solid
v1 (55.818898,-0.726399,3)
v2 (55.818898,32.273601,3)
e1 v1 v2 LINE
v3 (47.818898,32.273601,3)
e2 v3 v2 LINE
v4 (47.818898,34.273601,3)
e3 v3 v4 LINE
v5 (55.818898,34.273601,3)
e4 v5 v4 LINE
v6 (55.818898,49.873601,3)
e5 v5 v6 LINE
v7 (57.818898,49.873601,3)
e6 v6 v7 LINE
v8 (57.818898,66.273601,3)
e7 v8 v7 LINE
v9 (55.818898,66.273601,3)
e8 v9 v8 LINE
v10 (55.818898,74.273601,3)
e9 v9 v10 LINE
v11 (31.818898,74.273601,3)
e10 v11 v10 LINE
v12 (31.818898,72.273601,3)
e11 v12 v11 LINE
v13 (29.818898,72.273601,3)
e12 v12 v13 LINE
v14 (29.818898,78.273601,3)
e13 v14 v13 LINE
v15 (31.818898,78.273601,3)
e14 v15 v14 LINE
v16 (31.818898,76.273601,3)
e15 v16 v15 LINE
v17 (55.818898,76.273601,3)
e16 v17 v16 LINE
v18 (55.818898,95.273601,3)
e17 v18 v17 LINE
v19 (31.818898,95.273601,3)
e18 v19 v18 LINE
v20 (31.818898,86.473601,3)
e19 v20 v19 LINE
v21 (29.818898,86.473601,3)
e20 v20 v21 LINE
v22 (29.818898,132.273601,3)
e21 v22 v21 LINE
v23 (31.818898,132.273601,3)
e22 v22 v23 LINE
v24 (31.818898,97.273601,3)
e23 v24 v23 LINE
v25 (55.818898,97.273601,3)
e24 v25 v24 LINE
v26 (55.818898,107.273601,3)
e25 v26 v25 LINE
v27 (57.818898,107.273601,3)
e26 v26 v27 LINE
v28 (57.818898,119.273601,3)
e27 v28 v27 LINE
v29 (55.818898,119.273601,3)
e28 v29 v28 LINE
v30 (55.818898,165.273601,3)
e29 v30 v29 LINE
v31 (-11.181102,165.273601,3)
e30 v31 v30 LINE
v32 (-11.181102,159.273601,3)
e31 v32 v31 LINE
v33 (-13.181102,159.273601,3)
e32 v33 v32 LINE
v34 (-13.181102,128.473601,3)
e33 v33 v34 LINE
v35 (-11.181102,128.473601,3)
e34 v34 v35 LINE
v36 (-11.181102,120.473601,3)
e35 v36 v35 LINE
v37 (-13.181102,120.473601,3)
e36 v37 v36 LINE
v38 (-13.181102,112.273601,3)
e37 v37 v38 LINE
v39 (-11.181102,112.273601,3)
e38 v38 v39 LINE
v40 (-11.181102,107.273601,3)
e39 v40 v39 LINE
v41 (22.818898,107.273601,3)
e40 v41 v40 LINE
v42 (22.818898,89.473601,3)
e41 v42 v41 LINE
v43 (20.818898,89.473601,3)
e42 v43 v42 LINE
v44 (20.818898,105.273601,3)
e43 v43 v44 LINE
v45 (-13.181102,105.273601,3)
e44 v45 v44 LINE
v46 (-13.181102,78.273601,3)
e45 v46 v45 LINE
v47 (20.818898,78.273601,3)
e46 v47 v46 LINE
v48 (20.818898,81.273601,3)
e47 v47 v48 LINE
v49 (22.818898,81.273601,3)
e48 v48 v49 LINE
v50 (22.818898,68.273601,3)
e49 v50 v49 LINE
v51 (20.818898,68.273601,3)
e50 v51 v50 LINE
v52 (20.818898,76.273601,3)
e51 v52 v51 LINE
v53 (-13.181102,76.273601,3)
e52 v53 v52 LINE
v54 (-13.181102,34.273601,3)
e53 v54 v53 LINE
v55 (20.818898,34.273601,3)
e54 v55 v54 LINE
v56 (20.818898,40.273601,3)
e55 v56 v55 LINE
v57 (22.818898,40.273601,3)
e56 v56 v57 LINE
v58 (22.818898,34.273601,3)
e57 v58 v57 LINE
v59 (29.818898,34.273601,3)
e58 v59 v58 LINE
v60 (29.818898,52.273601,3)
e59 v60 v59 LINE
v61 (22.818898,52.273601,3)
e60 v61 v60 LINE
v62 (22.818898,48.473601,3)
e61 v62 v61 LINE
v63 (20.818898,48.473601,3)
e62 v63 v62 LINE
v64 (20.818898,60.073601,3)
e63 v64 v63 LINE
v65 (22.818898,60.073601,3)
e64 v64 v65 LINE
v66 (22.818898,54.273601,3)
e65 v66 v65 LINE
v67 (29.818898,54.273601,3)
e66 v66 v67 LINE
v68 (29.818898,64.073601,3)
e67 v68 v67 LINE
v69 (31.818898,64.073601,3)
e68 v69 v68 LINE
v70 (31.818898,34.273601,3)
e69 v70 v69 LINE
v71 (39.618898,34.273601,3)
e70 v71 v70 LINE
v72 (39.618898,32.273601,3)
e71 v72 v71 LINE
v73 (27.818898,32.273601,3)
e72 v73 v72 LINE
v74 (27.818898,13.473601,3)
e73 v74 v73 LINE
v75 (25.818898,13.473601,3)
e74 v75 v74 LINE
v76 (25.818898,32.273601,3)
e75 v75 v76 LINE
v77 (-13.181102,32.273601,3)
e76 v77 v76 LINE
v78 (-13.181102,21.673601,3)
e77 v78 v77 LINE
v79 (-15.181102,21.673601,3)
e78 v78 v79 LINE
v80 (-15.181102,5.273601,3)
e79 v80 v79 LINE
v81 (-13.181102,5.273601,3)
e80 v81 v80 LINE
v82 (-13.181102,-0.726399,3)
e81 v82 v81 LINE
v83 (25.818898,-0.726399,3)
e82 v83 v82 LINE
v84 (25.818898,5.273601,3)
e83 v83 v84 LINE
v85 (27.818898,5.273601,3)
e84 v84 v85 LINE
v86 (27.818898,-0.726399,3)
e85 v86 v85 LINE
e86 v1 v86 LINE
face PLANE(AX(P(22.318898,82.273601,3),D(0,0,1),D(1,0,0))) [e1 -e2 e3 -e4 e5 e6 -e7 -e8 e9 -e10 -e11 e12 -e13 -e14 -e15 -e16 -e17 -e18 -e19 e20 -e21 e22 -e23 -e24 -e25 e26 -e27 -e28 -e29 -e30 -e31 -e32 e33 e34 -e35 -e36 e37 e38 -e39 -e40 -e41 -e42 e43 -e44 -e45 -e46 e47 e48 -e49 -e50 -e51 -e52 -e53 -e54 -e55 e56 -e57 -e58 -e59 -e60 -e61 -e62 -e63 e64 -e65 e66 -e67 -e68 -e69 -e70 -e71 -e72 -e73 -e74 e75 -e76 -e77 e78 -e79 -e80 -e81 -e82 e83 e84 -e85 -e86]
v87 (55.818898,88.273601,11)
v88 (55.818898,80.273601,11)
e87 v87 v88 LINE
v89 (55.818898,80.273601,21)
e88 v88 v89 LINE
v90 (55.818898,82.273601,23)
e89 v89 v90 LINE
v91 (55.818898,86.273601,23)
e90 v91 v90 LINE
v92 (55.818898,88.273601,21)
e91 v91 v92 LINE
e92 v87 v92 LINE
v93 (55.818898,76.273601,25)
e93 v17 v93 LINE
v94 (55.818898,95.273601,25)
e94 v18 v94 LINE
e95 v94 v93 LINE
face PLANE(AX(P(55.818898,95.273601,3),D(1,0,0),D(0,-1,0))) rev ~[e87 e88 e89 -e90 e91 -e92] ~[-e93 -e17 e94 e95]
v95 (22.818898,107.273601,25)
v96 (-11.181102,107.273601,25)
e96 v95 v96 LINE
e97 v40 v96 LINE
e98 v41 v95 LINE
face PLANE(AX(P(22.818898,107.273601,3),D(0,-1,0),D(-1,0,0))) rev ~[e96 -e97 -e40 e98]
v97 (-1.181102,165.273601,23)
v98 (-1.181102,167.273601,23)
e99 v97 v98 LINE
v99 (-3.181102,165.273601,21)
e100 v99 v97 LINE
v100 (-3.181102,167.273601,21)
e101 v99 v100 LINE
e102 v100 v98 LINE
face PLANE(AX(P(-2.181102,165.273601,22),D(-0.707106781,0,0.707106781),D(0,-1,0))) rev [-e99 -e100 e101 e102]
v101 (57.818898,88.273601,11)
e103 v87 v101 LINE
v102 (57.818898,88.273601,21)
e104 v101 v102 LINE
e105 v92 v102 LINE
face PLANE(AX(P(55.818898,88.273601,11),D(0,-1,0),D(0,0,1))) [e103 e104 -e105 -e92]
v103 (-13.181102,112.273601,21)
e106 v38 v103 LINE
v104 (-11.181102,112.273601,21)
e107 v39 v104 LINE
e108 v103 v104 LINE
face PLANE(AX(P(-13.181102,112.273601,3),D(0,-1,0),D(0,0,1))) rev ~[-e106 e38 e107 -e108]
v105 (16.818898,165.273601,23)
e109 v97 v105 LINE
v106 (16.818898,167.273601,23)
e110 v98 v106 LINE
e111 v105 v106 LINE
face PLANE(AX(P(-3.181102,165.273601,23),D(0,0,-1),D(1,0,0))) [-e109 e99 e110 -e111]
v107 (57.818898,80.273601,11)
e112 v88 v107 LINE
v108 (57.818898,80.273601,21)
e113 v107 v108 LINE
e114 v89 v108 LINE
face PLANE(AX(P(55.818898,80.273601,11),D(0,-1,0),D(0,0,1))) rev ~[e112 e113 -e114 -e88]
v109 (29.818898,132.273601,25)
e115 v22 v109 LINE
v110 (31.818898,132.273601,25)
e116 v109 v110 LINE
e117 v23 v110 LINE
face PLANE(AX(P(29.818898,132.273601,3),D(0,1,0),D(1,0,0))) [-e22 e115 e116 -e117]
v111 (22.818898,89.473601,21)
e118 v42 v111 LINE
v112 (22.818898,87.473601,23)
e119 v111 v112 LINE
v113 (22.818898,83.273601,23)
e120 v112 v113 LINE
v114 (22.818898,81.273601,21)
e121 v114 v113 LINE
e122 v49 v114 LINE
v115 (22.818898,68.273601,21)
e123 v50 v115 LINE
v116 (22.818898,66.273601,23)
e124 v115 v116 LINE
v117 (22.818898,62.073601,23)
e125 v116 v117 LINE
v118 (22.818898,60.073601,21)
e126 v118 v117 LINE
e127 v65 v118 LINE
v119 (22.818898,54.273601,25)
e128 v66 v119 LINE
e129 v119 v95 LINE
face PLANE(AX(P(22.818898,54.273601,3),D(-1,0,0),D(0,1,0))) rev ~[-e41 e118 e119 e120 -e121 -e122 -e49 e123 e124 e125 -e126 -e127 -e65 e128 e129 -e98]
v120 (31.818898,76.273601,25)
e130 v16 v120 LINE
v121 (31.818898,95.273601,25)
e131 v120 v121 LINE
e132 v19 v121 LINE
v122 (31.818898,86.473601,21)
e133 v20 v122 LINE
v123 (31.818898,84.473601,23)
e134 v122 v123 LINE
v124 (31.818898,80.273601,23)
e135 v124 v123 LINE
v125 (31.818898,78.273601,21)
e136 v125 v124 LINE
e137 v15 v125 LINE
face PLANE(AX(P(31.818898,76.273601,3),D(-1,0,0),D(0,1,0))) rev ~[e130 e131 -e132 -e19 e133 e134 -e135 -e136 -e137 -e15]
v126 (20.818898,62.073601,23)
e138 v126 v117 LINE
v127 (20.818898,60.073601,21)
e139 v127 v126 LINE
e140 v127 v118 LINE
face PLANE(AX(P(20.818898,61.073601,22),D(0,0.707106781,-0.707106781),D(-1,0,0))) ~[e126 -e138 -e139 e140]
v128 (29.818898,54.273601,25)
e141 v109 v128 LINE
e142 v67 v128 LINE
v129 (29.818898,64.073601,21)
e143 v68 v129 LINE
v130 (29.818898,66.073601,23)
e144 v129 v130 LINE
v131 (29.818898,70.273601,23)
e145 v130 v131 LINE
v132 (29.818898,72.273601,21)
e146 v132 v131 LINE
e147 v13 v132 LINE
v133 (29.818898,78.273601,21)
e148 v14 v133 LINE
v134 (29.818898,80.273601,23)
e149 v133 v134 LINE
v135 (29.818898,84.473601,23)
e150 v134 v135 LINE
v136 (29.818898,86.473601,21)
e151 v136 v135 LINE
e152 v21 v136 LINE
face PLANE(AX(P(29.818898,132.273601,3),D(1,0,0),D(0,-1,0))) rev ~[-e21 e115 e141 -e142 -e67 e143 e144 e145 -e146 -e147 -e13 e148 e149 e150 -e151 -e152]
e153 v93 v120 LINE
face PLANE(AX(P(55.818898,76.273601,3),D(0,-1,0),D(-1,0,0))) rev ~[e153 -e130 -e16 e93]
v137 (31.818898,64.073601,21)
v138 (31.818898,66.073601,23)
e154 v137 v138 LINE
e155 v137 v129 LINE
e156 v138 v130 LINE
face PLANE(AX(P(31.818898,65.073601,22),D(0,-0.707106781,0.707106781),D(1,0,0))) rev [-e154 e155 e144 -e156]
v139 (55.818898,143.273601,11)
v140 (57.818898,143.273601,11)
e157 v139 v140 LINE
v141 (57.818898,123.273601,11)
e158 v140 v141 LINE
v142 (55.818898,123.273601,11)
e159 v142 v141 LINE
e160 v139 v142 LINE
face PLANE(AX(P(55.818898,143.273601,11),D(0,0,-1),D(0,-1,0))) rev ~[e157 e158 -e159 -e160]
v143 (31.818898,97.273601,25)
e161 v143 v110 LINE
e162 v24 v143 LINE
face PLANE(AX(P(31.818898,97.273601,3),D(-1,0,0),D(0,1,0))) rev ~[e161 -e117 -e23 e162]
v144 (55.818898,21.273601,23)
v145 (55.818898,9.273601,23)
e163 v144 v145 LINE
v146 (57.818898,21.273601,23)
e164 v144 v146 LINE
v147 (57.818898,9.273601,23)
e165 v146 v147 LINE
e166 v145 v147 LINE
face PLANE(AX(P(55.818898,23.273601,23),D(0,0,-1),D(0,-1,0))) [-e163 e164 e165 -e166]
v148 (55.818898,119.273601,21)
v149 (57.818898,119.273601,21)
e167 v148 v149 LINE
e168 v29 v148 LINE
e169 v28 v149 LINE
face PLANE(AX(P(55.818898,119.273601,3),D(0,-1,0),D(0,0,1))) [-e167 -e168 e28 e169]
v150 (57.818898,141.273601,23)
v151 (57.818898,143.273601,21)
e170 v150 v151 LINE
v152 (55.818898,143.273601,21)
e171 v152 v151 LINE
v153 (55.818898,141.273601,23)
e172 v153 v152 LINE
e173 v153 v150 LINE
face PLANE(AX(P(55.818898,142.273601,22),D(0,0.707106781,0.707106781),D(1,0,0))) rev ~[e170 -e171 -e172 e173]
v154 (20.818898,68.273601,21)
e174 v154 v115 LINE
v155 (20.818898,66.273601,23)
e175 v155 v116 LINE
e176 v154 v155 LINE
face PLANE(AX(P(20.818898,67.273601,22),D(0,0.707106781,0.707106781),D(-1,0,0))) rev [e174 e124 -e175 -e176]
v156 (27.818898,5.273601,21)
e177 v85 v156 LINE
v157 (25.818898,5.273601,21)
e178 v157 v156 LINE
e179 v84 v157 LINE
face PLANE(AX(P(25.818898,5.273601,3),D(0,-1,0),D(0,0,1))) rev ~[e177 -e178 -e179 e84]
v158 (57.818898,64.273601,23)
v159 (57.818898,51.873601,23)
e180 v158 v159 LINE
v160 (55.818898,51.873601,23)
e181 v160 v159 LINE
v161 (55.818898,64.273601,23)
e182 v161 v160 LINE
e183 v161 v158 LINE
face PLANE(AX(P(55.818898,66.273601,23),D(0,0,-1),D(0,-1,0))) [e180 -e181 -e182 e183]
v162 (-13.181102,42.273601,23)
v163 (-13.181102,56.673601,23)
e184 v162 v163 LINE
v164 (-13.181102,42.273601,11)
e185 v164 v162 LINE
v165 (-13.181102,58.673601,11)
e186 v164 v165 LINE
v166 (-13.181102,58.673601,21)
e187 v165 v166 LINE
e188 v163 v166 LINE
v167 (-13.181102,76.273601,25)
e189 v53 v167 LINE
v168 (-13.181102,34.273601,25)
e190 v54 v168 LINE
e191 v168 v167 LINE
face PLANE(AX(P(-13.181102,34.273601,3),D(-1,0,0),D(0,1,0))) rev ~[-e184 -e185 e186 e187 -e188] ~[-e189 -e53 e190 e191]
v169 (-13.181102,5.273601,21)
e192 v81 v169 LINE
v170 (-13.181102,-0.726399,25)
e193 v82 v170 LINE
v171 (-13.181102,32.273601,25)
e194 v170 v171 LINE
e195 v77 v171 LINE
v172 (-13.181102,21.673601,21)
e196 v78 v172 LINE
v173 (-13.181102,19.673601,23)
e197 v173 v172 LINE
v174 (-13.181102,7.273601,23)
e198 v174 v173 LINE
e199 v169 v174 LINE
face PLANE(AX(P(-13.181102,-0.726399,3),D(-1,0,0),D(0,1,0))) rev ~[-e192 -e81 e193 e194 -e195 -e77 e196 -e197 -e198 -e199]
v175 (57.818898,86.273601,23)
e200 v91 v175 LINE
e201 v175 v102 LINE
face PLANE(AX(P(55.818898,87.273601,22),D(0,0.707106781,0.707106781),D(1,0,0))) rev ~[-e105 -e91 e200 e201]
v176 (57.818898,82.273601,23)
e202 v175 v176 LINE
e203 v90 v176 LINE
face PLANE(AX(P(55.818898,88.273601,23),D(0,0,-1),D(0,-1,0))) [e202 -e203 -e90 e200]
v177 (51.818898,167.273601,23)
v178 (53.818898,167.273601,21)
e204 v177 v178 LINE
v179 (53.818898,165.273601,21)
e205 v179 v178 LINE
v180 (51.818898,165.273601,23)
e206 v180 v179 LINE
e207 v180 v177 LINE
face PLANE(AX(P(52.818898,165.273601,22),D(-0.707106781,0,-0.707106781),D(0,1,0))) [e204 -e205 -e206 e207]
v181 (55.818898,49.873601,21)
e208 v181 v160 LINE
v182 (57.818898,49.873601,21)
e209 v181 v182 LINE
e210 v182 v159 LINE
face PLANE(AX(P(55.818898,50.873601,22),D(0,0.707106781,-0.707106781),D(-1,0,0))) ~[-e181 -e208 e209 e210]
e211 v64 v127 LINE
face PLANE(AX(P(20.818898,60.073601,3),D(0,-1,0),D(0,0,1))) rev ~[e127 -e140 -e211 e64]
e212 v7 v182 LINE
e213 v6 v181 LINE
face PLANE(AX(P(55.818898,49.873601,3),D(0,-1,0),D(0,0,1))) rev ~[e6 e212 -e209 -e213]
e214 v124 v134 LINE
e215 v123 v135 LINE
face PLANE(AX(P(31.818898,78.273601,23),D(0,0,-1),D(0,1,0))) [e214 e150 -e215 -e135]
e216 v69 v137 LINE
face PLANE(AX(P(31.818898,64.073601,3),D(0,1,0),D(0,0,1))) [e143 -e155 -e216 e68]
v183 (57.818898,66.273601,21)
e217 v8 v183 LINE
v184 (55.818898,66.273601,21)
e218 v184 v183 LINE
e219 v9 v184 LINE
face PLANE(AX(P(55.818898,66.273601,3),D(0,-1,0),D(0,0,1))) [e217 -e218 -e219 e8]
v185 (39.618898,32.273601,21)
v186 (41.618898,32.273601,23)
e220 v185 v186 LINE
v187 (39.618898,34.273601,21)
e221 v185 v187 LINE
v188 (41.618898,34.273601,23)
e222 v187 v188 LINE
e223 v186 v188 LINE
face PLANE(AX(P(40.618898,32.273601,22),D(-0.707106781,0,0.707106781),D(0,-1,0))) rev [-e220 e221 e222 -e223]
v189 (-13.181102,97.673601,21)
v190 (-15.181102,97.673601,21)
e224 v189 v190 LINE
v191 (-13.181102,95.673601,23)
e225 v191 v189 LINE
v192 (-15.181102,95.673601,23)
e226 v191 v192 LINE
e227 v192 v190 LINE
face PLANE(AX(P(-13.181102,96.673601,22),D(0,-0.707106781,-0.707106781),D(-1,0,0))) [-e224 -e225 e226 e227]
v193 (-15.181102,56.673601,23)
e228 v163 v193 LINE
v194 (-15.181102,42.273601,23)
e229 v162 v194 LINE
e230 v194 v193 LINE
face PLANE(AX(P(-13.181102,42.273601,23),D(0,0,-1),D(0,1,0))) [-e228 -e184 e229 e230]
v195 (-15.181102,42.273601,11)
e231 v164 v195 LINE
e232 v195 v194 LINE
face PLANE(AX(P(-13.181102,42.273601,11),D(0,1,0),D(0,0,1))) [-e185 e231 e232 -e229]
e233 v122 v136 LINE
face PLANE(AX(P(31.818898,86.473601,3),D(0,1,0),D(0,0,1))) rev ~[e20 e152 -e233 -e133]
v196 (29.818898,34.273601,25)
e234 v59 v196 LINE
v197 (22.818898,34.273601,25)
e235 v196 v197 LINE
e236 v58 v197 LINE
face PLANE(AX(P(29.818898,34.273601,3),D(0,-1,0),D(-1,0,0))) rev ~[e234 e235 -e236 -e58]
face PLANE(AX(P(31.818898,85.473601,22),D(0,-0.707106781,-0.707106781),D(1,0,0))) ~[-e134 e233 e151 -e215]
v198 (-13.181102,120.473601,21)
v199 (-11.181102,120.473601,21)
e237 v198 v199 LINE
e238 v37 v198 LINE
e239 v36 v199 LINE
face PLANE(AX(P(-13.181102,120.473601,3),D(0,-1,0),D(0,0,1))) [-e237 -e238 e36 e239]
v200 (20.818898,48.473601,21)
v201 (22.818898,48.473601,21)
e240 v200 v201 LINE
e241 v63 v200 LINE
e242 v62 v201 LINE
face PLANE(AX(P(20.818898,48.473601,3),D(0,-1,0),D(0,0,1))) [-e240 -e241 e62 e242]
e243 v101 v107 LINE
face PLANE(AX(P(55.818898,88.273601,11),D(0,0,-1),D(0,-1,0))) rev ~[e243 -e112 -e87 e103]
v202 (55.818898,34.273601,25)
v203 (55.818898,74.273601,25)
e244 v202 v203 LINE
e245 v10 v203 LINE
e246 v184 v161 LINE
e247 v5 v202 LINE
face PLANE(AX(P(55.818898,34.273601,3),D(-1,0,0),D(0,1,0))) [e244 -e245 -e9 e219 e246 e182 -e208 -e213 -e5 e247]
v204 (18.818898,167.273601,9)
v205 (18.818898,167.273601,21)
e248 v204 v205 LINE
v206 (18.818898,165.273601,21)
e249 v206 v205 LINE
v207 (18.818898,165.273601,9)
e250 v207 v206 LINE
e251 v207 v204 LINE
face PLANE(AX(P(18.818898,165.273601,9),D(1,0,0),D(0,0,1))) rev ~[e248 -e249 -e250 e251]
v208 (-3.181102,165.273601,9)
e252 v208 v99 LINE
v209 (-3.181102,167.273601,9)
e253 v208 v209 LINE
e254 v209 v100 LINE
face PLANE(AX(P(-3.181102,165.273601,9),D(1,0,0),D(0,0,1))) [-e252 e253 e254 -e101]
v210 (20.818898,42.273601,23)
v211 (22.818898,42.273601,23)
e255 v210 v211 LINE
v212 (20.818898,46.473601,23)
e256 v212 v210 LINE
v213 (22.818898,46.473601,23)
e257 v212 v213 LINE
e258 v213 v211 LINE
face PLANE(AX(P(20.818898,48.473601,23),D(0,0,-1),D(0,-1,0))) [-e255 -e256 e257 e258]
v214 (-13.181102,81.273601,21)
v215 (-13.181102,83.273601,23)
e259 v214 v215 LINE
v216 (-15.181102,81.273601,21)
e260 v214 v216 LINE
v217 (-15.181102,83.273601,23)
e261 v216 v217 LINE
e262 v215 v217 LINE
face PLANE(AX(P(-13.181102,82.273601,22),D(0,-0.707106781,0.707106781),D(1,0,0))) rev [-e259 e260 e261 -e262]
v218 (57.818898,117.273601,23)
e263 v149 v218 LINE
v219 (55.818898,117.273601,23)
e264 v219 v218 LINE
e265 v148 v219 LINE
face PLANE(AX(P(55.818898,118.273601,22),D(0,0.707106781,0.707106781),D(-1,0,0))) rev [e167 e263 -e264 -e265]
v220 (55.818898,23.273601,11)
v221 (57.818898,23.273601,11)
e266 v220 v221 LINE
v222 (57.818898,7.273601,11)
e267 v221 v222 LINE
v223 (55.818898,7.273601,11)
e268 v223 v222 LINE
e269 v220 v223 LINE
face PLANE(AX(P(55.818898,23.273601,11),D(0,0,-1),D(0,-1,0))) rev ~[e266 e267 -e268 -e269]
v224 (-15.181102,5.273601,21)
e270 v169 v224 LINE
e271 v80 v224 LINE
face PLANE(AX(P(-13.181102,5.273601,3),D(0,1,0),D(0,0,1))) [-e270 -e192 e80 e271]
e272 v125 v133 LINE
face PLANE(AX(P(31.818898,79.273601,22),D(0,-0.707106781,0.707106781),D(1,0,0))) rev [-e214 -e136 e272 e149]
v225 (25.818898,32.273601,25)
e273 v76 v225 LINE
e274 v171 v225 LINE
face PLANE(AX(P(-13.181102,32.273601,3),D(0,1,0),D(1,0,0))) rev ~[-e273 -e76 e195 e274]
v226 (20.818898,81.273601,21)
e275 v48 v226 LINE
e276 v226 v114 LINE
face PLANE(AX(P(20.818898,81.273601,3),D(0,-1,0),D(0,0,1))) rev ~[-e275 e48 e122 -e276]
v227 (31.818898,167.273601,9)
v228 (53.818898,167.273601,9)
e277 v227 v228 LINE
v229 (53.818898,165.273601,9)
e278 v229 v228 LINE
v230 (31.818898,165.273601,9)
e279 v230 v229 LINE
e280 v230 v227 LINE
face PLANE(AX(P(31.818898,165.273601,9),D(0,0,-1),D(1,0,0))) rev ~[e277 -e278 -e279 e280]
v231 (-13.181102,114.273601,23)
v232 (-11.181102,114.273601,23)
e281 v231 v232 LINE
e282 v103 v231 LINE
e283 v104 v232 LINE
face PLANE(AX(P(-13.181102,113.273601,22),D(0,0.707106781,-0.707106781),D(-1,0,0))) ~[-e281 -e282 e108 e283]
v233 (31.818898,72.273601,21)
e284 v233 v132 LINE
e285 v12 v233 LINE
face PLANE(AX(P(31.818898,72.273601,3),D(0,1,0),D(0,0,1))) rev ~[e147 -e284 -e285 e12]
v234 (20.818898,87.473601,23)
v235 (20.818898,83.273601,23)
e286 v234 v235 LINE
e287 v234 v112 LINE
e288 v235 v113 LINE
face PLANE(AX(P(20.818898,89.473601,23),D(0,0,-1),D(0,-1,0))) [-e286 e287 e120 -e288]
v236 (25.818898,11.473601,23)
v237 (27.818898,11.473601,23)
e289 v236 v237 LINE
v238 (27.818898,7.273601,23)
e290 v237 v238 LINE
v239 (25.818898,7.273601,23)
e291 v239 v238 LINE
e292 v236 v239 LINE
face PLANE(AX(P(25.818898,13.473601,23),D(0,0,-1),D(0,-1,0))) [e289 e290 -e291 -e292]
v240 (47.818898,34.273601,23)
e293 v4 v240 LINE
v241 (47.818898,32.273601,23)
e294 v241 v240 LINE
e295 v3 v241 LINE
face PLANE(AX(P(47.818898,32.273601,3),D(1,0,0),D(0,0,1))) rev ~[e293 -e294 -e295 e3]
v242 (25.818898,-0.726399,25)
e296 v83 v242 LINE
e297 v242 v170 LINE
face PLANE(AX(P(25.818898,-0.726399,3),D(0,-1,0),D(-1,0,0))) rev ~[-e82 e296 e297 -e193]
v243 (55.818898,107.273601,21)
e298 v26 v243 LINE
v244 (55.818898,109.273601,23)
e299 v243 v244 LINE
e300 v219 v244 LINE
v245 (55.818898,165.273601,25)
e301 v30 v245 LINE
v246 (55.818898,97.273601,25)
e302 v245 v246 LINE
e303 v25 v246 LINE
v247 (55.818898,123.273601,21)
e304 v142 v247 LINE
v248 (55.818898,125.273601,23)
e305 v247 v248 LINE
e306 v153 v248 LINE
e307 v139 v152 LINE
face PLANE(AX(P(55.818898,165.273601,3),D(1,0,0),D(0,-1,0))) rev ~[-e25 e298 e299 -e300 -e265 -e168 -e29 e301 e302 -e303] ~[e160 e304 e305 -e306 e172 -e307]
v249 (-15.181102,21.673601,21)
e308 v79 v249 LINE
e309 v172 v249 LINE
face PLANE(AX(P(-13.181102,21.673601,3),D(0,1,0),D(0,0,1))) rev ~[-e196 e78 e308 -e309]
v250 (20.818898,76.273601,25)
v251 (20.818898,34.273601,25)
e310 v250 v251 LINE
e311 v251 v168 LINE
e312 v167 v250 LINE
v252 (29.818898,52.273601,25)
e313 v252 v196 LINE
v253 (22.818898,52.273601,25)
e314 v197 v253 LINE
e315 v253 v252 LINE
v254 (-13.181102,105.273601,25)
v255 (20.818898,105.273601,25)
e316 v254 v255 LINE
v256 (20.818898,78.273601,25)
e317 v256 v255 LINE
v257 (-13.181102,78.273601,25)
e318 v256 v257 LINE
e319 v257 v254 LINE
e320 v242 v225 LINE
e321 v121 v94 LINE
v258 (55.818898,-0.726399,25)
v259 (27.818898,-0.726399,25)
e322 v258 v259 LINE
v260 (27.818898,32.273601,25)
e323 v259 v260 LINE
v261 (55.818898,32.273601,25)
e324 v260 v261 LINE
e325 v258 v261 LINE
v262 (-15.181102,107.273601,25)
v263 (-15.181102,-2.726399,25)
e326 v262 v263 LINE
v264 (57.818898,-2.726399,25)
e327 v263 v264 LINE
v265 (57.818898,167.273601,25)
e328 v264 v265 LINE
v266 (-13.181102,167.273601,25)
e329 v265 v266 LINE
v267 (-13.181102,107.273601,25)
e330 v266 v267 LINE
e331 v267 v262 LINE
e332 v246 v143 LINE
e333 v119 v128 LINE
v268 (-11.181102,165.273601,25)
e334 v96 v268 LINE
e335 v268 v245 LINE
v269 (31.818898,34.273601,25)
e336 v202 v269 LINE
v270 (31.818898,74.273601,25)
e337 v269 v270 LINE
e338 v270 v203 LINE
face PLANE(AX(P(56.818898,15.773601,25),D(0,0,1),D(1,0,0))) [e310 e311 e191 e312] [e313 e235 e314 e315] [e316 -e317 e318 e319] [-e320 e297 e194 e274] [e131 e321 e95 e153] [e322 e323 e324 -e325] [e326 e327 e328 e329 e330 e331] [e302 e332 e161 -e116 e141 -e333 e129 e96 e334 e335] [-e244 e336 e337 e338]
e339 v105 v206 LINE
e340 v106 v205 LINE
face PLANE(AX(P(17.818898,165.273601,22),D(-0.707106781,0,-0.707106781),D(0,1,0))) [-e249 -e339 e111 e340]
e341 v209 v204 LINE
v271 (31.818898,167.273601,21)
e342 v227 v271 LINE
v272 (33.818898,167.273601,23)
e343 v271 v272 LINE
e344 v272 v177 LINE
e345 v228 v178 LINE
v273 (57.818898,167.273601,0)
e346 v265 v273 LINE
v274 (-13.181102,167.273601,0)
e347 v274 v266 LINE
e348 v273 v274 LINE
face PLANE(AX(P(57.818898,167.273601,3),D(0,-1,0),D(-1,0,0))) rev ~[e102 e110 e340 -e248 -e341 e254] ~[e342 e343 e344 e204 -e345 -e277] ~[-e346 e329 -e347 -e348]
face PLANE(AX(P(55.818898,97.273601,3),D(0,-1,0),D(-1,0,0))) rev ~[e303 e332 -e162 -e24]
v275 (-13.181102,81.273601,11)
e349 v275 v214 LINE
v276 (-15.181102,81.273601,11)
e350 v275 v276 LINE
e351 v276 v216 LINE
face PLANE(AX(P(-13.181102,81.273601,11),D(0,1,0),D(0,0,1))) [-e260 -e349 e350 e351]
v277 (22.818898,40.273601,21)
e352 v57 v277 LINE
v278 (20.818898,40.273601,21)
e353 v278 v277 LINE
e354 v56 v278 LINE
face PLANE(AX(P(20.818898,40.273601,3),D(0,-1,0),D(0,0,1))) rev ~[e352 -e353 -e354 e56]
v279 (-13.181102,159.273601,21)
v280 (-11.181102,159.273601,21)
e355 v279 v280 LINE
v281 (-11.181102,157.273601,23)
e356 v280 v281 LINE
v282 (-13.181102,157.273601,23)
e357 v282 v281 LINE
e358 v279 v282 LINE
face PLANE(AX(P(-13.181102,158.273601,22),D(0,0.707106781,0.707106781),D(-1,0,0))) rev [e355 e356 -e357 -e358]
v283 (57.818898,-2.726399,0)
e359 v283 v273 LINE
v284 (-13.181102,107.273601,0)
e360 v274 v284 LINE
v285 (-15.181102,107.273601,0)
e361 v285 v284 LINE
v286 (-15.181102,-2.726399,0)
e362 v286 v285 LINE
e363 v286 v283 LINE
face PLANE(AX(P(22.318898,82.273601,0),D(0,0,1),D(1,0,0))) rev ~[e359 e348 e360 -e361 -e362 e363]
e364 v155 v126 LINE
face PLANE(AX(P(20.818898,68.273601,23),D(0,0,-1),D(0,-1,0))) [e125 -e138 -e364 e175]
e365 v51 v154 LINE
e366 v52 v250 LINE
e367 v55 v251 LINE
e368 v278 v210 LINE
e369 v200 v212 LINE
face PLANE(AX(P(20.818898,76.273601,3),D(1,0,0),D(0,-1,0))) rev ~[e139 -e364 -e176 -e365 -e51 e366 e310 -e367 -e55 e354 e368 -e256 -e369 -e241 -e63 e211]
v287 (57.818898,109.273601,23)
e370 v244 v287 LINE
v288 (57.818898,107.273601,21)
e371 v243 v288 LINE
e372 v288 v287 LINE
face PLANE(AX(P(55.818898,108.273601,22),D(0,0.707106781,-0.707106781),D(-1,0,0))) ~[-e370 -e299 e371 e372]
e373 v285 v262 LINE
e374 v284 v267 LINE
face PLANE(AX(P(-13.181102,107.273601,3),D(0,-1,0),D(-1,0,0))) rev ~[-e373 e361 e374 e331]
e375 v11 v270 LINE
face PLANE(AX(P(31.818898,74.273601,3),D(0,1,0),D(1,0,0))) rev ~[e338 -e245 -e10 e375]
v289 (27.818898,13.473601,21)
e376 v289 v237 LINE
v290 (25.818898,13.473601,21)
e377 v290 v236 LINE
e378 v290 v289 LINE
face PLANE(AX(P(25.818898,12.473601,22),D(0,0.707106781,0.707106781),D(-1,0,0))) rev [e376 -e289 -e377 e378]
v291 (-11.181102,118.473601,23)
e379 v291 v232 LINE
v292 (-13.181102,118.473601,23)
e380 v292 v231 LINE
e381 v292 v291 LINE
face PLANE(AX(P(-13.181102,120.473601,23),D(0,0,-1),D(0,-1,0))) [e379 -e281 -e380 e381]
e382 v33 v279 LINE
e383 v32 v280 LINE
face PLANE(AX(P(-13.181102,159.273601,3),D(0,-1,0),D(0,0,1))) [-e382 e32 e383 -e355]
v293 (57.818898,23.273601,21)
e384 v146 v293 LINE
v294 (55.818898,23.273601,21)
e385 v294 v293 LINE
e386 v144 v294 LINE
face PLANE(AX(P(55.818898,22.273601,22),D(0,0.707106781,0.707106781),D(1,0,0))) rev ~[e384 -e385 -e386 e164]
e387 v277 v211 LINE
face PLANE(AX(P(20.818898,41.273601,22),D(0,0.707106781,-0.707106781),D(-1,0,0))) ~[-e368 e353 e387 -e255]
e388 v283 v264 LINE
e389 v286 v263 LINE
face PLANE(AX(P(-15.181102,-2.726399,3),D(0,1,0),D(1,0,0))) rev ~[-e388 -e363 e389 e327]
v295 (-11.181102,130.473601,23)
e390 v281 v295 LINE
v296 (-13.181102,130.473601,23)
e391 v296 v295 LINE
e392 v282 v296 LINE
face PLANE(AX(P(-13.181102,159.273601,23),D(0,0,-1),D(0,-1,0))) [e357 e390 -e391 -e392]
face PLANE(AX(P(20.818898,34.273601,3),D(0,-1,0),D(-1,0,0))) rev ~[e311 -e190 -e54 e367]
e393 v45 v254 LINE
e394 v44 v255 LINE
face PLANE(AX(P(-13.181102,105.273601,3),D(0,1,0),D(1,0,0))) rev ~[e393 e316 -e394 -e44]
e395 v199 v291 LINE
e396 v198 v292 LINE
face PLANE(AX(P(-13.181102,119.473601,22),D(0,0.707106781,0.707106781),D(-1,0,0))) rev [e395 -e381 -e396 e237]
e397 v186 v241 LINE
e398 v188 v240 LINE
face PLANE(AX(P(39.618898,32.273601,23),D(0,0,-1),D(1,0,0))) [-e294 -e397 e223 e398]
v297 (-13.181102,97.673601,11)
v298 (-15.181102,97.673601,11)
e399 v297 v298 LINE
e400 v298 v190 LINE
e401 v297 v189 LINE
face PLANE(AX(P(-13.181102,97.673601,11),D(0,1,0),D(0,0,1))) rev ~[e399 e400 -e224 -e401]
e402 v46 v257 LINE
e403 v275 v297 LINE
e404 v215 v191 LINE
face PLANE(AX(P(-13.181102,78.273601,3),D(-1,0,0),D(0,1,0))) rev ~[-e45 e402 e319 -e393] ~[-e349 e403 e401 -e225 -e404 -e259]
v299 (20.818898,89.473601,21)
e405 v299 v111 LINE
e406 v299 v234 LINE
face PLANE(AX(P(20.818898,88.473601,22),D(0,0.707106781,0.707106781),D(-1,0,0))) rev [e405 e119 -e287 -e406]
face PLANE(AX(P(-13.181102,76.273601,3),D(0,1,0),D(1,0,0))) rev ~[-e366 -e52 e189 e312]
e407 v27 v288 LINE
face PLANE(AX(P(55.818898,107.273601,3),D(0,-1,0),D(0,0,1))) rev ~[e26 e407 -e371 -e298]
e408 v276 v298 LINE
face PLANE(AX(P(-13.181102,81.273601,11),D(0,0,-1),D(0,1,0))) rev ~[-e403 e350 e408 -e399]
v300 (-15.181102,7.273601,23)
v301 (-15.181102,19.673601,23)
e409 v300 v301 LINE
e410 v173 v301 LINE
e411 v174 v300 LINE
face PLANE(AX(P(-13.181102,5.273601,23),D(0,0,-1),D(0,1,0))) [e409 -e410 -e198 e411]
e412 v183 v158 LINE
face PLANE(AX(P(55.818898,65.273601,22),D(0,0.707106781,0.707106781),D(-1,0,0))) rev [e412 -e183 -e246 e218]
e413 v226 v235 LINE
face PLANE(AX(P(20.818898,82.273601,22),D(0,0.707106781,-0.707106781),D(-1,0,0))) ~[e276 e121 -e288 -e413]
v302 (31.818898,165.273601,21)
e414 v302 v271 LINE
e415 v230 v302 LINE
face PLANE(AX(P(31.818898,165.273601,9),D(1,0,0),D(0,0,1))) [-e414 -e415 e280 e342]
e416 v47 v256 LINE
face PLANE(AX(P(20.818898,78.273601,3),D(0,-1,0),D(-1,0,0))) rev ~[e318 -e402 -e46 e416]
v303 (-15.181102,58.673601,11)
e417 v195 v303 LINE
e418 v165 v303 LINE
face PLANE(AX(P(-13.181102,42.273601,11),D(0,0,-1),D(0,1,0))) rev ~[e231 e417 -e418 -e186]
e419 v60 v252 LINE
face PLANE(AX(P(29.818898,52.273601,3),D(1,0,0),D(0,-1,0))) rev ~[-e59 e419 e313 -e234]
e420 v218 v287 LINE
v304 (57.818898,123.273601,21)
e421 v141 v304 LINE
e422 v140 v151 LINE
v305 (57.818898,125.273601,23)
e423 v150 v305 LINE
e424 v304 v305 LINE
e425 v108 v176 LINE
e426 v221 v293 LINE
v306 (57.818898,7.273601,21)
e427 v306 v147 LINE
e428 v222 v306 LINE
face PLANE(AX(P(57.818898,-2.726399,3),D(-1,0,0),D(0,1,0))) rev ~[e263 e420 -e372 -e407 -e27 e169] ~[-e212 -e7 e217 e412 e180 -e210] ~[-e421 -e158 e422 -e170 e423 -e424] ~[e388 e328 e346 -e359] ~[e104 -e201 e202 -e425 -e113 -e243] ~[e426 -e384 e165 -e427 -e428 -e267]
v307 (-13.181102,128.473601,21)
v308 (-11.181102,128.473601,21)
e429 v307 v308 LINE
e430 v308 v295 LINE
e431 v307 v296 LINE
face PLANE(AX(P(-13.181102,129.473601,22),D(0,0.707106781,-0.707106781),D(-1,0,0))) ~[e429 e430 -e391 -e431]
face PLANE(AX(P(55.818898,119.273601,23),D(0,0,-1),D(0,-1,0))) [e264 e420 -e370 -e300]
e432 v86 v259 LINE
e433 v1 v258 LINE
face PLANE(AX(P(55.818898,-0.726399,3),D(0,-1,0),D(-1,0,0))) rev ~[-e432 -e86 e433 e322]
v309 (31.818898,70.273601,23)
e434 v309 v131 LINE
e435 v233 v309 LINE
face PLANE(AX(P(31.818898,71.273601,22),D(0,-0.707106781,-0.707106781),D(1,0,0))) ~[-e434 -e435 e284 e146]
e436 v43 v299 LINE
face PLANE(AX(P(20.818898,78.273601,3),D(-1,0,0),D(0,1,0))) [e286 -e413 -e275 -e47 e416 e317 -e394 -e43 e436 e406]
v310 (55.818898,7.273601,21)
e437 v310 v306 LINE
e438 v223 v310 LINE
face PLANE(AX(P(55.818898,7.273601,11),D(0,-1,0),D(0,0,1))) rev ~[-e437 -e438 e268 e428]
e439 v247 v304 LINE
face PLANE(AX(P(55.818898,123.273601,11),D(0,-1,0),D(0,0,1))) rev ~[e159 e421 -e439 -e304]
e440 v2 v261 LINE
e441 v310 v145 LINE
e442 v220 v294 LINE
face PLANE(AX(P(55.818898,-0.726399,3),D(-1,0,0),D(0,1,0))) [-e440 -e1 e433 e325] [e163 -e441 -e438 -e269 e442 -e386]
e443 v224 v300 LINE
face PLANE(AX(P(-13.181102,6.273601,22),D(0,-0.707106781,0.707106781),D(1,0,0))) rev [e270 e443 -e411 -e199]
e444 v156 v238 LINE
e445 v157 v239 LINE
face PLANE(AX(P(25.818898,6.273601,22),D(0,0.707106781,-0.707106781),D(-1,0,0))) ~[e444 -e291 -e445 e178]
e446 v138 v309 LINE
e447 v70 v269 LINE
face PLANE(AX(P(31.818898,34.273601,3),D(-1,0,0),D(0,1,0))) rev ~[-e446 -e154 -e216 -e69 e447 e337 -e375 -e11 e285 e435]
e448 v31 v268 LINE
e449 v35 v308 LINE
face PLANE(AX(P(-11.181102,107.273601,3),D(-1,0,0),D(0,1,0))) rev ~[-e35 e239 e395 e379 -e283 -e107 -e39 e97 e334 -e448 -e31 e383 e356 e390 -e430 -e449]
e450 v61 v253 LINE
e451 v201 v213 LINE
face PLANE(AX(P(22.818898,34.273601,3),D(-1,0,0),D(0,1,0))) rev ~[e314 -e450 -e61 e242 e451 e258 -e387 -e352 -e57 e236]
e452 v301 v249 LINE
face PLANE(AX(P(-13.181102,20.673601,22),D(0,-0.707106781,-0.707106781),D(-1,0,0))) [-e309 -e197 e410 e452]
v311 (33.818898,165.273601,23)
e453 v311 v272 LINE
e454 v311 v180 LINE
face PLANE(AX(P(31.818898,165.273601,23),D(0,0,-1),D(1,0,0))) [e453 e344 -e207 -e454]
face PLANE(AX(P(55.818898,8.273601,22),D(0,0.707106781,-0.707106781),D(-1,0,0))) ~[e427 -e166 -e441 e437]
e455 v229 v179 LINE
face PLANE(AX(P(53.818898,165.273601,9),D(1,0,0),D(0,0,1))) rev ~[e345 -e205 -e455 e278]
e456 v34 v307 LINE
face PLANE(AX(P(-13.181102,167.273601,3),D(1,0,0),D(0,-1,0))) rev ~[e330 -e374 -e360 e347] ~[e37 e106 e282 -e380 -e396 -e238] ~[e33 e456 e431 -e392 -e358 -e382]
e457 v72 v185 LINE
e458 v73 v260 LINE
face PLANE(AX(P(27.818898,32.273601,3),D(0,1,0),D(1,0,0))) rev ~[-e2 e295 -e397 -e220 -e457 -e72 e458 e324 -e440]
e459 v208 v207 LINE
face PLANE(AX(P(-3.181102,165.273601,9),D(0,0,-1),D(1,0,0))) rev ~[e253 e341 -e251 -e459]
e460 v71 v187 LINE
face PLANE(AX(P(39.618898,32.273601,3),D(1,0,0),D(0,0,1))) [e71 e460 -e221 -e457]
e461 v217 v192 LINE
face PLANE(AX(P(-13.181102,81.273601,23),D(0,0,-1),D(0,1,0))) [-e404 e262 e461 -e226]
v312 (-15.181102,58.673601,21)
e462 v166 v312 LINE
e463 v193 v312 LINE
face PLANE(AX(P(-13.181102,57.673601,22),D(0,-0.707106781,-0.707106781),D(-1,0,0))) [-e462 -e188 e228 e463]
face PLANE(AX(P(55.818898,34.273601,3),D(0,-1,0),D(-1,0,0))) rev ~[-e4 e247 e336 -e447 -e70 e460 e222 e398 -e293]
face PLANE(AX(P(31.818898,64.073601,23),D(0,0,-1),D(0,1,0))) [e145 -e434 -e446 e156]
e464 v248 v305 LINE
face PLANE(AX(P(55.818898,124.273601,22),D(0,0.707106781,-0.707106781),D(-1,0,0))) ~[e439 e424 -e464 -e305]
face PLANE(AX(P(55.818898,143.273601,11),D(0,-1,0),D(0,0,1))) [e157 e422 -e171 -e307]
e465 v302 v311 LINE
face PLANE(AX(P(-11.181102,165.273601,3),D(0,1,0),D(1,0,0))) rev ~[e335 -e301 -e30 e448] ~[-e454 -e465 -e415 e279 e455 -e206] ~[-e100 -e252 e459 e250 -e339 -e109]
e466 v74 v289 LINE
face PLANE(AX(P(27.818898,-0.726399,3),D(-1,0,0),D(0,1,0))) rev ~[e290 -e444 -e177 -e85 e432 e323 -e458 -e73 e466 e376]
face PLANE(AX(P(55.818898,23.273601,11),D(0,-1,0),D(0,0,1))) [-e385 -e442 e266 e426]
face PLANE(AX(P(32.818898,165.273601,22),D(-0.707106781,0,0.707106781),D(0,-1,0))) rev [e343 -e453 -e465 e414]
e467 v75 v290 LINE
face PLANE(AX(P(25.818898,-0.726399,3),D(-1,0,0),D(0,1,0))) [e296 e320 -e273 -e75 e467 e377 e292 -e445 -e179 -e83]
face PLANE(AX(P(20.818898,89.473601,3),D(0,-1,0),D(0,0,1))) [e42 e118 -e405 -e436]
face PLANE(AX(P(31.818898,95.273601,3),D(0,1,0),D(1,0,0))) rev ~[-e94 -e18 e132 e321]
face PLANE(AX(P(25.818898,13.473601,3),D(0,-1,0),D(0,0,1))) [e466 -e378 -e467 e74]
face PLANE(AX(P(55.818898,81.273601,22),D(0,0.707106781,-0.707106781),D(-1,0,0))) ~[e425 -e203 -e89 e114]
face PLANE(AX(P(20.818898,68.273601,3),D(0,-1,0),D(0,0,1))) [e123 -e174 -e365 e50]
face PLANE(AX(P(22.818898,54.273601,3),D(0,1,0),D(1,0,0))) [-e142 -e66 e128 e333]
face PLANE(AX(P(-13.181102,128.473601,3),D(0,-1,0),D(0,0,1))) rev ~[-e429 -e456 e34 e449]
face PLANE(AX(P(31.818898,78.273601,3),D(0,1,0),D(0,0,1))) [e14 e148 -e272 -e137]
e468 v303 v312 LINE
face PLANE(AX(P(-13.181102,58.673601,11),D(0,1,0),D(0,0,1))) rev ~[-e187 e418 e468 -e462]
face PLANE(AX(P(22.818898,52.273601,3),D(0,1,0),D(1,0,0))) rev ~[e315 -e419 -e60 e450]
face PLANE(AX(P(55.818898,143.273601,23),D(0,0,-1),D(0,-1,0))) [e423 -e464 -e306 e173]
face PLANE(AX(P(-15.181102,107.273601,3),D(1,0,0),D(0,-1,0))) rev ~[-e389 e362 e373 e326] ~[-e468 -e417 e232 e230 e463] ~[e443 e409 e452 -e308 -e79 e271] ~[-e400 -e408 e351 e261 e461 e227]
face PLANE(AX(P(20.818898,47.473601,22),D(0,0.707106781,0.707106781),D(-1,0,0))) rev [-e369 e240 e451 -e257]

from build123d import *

# Parameters (mm, degrees)
F3_W      = 2
F3_H      = 110
F4_DEPTH  = 3
F5_W      = 2
F5_H      = 33
F5_H_2    = 40
F5_H_3    = 27
F5_H_4    = 19
F5_H_5    = 35
F5_W_2    = 7
F5_H_6    = 2
F6_DEPTH  = 22
F7_W      = 8.2
F7_H      = 20
F7_W_2    = 30.8
F8_DEPTH  = 2
F9_W      = 12
F9_H      = 20
F9_W_2    = 20
F9_H_2    = 12
F9_W_3    = 8
F9_W_4    = 16.4
F9_W_5    = 16
F10_DEPTH = 2
F11_W     = 22
F11_H     = 14
F12_DEPTH = 2
F13_W     = 8.2
F13_H     = 20
F14_DEPTH = 2
F15_W     = 8.2
F15_H     = 20
F16_DEPTH = 2
F17_W     = 8.2
F17_H     = 20
F18_DEPTH = 2
F19_W     = 8.2
F19_H     = 20
F20_DEPTH = 2
F21_W     = 16.4
F21_H     = 20
F21_H_2   = 12
F22_DEPTH = 2
F23_SIZE  = 2


with BuildPart() as f4:
    # F3 (on Top) → F4 (new body)
    with BuildSketch(Plane.XY):
        Polygon((57.8188975325, 167.2736013268), (-13.1811024675, 167.2736013268), (-13.1811024675, 107.2736013268), (-13.1811024675, -2.7263986732), (57.8188975325, -2.7263986732), align=None)
        with Locations((-14.1811024675, 52.2736013268)):
            Rectangle(F3_W, F3_H)
    extrude(amount=F4_DEPTH)

    # F5 (on face) → F6 (join)
    with BuildSketch(Plane.XY.offset(3)):
        with Locations((56.8188975325, 15.7736013268)):
            Rectangle(F5_W, F5_H)
        with Locations((56.8188975325, 54.2736013268)):
            Rectangle(F5_W, F5_H_2)
        Polygon((-13.1811024675, 167.2736013268), (-13.1811024675, 107.2736013268), (-11.1811024675, 107.2736013268), (-11.1811024675, 165.2736013268), (-11.1811024675, 167.2736013268), align=None)
        Polygon((-11.1811024675, 167.2736013268), (-11.1811024675, 165.2736013268), (55.8188975325, 165.2736013268), (57.8188975325, 165.2736013268), (57.8188975325, 167.2736013268), align=None)
        Polygon((-15.1811024675, -0.7263986732), (-15.1811024675, -2.7263986732), (57.8188975325, -2.7263986732), (57.8188975325, -0.7263986732), (55.8188975325, -0.7263986732), (27.8188975325, -0.7263986732), (25.8188975325, -0.7263986732), (-13.1811024675, -0.7263986732), align=None)
        Polygon((-11.1811024675, 107.2736013268), (-13.1811024675, 107.2736013268), (-13.1811024675, 105.2736013268), (20.8188975325, 105.2736013268), (22.8188975325, 105.2736013268), (22.8188975325, 107.2736013268), align=None)
        Polygon((55.8188975325, 76.2736013268), (57.8188975325, 76.2736013268), (57.8188975325, 165.2736013268), (55.8188975325, 165.2736013268), (55.8188975325, 97.2736013268), (55.8188975325, 95.2736013268), align=None)
        Polygon((-15.1811024675, 107.2736013268), (-15.1811024675, -0.7263986732), (-13.1811024675, -0.7263986732), (-13.1811024675, 32.2736013268), (-13.1811024675, 34.2736013268), (-13.1811024675, 76.2736013268), (-13.1811024675, 78.2736013268), (-13.1811024675, 105.2736013268), (-13.1811024675, 107.2736013268), align=None)
        Polygon((55.8188975325, 74.2736013268), (57.8188975325, 74.2736013268), (57.8188975325, 76.2736013268), (55.8188975325, 76.2736013268), (31.8188975325, 76.2736013268), (29.8188975325, 76.2736013268), (29.8188975325, 74.2736013268), (31.8188975325, 74.2736013268), align=None)
        Polygon((55.8188975325, 32.2736013268), (57.8188975325, 32.2736013268), (57.8188975325, 34.2736013268), (55.8188975325, 34.2736013268), (31.8188975325, 34.2736013268), (29.8188975325, 34.2736013268), (22.8188975325, 34.2736013268), (20.8188975325, 34.2736013268), (-13.1811024675, 34.2736013268), (-13.1811024675, 32.2736013268), (25.8188975325, 32.2736013268), (27.8188975325, 32.2736013268), align=None)
        with Locations((21.8188975325, 91.7736013268)):
            Rectangle(F5_W, F5_H_3)
        Polygon((20.8188975325, 76.2736013268), (20.8188975325, 34.2736013268), (22.8188975325, 34.2736013268), (22.8188975325, 52.2736013268), (22.8188975325, 54.2736013268), (22.8188975325, 76.2736013268), align=None)
        Polygon((-13.1811024675, 78.2736013268), (-13.1811024675, 76.2736013268), (20.8188975325, 76.2736013268), (22.8188975325, 76.2736013268), (22.8188975325, 78.2736013268), (20.8188975325, 78.2736013268), align=None)
        with Locations((30.8188975325, 85.7736013268)):
            Rectangle(F5_W, F5_H_4)
        Polygon((55.8188975325, 95.2736013268), (55.8188975325, 97.2736013268), (31.8188975325, 97.2736013268), (29.8188975325, 97.2736013268), (29.8188975325, 95.2736013268), (31.8188975325, 95.2736013268), align=None)
        with Locations((30.8188975325, 114.7736013268)):
            Rectangle(F5_W, F5_H_5)
        Polygon((29.8188975325, 34.2736013268), (31.8188975325, 34.2736013268), (31.8188975325, 74.2736013268), (29.8188975325, 74.2736013268), (29.8188975325, 54.2736013268), (29.8188975325, 52.2736013268), align=None)
        with Locations((26.3188975325, 53.2736013268)):
            Rectangle(F5_W_2, F5_H_6)
        with Locations((26.8188975325, 15.7736013268)):
            Rectangle(F5_W, F5_H)
    extrude(amount=F6_DEPTH)

    # F7 (on face) → F8 (cut)
    with BuildSketch(Plane(origin=(-13.1811024675, 0, 0), x_dir=(0, -1, 0), z_dir=(-1, 0, 0))):
        with Locations((-116.3736013268, 13)):
            Rectangle(F7_W, F7_H)
        with Locations((-143.8736013268, 13)):
            Rectangle(F7_W_2, F7_H)
    extrude(amount=-F8_DEPTH, mode=Mode.SUBTRACT)

    # F9 (on face) → F10 (cut)
    with BuildSketch(Plane(origin=(55.8188975325, 0, 0), x_dir=(0, -1, 0), z_dir=(-1, 0, 0))):
        with Locations((-113.2736013268, 13)):
            Rectangle(F9_W, F9_H)
        with Locations((-133.2736013268, 17)):
            Rectangle(F9_W_2, F9_H_2)
        with Locations((-84.2736013268, 17)):
            Rectangle(F9_W_3, F9_H_2)
        with Locations((-58.0736013268, 13)):
            Rectangle(F9_W_4, F9_H)
        with Locations((-15.2736013268, 17)):
            Rectangle(F9_W_5, F9_H_2)
    extrude(amount=-F10_DEPTH, mode=Mode.SUBTRACT)

    # F11 (on face) → F12 (cut)
    with BuildSketch(Plane.XZ.offset(-165.2736013268)):
        with Locations((42.8188975325, 16)):
            Rectangle(F11_W, F11_H)
        with Locations((7.8188975325, 16)):
            Rectangle(F11_W, F11_H)
    extrude(amount=-F12_DEPTH, mode=Mode.SUBTRACT)

    # F13 (on face) → F14 (cut)
    with BuildSketch(Plane(origin=(20.8188975325, 0, 0), x_dir=(0, -1, 0), z_dir=(-1, 0, 0))):
        with Locations((-85.3736013268, 13)):
            Rectangle(F13_W, F13_H)
        with Locations((-64.1736013268, 13)):
            Rectangle(F13_W, F13_H)
        with Locations((-44.3736013268, 13)):
            Rectangle(F13_W, F13_H)
    extrude(amount=-F14_DEPTH, mode=Mode.SUBTRACT)

    # F15 (on face) → F16 (cut)
    with BuildSketch(Plane.YZ.offset(31.8188975325)):
        with Locations((82.3736013268, 13)):
            Rectangle(F15_W, F15_H)
        with Locations((68.1736013268, 13)):
            Rectangle(F15_W, F15_H)
    extrude(amount=-F16_DEPTH, mode=Mode.SUBTRACT)

    # F17 (on face) → F18 (cut)
    with BuildSketch(Plane.XZ.offset(-32.2736013268)):
        with Locations((43.7188975325, 13)):
            Rectangle(F17_W, F17_H)
    extrude(amount=-F18_DEPTH, mode=Mode.SUBTRACT)

    # F19 (on face) → F20 (cut)
    with BuildSketch(Plane(origin=(25.8188975325, 0, 0), x_dir=(0, -1, 0), z_dir=(-1, 0, 0))):
        with Locations((-9.3736013268, 13)):
            Rectangle(F19_W, F19_H)
    extrude(amount=-F20_DEPTH, mode=Mode.SUBTRACT)

    # F21 (on face) → F22 (cut)
    with BuildSketch(Plane.YZ.offset(-13.1811024675)):
        with Locations((13.4736013268, 13)):
            Rectangle(F21_W, F21_H)
        with Locations((50.4736013268, 17)):
            Rectangle(F21_W, F21_H_2)
        with Locations((89.4736013268, 17)):
            Rectangle(F21_W, F21_H_2)
    extrude(amount=-F22_DEPTH, mode=Mode.SUBTRACT)

    # F23
    f23_edges = [f4.edges().sort_by_distance(p)[0] for p in [
        (-12.181102, 159.273601, 23),
        (-12.181102, 128.473601, 23),
        (-12.181102, 112.273601, 23),
        (-14.181102, 81.273601, 23),
        (18.818898, 166.273601, 23),
        (-14.181102, 21.673601, 23),
        (-14.181102, 58.673601, 23),
        (-14.181102, 97.673601, 23),
        (-12.181102, 120.473601, 23),
        (-14.181102, 5.273601, 23),
        (56.818898, 7.273601, 23),
        (26.818898, 5.273601, 23),
        (56.818898, 49.873601, 23),
        (56.818898, 80.273601, 23),
        (56.818898, 23.273601, 23),
        (56.818898, 66.273601, 23),
        (56.818898, 88.273601, 23),
        (39.618898, 33.273601, 23),
        (30.818898, 72.273601, 23),
        (21.818898, 68.273601, 23),
        (26.818898, 13.473601, 23),
        (31.818898, 166.273601, 23),
        (56.818898, 123.273601, 23),
        (56.818898, 107.273601, 23),
        (56.818898, 119.273601, 23),
        (56.818898, 143.273601, 23),
        (53.818898, 166.273601, 23),
        (-3.181102, 166.273601, 23),
        (30.818898, 78.273601, 23),
        (30.818898, 86.473601, 23),
        (30.818898, 64.073601, 23),
        (21.818898, 89.473601, 23),
        (21.818898, 81.273601, 23),
        (21.818898, 40.273601, 23),
        (21.818898, 48.473601, 23),
        (21.818898, 60.073601, 23),
    ]]
    chamfer(f23_edges, length=F23_SIZE)


solid = f4.part
